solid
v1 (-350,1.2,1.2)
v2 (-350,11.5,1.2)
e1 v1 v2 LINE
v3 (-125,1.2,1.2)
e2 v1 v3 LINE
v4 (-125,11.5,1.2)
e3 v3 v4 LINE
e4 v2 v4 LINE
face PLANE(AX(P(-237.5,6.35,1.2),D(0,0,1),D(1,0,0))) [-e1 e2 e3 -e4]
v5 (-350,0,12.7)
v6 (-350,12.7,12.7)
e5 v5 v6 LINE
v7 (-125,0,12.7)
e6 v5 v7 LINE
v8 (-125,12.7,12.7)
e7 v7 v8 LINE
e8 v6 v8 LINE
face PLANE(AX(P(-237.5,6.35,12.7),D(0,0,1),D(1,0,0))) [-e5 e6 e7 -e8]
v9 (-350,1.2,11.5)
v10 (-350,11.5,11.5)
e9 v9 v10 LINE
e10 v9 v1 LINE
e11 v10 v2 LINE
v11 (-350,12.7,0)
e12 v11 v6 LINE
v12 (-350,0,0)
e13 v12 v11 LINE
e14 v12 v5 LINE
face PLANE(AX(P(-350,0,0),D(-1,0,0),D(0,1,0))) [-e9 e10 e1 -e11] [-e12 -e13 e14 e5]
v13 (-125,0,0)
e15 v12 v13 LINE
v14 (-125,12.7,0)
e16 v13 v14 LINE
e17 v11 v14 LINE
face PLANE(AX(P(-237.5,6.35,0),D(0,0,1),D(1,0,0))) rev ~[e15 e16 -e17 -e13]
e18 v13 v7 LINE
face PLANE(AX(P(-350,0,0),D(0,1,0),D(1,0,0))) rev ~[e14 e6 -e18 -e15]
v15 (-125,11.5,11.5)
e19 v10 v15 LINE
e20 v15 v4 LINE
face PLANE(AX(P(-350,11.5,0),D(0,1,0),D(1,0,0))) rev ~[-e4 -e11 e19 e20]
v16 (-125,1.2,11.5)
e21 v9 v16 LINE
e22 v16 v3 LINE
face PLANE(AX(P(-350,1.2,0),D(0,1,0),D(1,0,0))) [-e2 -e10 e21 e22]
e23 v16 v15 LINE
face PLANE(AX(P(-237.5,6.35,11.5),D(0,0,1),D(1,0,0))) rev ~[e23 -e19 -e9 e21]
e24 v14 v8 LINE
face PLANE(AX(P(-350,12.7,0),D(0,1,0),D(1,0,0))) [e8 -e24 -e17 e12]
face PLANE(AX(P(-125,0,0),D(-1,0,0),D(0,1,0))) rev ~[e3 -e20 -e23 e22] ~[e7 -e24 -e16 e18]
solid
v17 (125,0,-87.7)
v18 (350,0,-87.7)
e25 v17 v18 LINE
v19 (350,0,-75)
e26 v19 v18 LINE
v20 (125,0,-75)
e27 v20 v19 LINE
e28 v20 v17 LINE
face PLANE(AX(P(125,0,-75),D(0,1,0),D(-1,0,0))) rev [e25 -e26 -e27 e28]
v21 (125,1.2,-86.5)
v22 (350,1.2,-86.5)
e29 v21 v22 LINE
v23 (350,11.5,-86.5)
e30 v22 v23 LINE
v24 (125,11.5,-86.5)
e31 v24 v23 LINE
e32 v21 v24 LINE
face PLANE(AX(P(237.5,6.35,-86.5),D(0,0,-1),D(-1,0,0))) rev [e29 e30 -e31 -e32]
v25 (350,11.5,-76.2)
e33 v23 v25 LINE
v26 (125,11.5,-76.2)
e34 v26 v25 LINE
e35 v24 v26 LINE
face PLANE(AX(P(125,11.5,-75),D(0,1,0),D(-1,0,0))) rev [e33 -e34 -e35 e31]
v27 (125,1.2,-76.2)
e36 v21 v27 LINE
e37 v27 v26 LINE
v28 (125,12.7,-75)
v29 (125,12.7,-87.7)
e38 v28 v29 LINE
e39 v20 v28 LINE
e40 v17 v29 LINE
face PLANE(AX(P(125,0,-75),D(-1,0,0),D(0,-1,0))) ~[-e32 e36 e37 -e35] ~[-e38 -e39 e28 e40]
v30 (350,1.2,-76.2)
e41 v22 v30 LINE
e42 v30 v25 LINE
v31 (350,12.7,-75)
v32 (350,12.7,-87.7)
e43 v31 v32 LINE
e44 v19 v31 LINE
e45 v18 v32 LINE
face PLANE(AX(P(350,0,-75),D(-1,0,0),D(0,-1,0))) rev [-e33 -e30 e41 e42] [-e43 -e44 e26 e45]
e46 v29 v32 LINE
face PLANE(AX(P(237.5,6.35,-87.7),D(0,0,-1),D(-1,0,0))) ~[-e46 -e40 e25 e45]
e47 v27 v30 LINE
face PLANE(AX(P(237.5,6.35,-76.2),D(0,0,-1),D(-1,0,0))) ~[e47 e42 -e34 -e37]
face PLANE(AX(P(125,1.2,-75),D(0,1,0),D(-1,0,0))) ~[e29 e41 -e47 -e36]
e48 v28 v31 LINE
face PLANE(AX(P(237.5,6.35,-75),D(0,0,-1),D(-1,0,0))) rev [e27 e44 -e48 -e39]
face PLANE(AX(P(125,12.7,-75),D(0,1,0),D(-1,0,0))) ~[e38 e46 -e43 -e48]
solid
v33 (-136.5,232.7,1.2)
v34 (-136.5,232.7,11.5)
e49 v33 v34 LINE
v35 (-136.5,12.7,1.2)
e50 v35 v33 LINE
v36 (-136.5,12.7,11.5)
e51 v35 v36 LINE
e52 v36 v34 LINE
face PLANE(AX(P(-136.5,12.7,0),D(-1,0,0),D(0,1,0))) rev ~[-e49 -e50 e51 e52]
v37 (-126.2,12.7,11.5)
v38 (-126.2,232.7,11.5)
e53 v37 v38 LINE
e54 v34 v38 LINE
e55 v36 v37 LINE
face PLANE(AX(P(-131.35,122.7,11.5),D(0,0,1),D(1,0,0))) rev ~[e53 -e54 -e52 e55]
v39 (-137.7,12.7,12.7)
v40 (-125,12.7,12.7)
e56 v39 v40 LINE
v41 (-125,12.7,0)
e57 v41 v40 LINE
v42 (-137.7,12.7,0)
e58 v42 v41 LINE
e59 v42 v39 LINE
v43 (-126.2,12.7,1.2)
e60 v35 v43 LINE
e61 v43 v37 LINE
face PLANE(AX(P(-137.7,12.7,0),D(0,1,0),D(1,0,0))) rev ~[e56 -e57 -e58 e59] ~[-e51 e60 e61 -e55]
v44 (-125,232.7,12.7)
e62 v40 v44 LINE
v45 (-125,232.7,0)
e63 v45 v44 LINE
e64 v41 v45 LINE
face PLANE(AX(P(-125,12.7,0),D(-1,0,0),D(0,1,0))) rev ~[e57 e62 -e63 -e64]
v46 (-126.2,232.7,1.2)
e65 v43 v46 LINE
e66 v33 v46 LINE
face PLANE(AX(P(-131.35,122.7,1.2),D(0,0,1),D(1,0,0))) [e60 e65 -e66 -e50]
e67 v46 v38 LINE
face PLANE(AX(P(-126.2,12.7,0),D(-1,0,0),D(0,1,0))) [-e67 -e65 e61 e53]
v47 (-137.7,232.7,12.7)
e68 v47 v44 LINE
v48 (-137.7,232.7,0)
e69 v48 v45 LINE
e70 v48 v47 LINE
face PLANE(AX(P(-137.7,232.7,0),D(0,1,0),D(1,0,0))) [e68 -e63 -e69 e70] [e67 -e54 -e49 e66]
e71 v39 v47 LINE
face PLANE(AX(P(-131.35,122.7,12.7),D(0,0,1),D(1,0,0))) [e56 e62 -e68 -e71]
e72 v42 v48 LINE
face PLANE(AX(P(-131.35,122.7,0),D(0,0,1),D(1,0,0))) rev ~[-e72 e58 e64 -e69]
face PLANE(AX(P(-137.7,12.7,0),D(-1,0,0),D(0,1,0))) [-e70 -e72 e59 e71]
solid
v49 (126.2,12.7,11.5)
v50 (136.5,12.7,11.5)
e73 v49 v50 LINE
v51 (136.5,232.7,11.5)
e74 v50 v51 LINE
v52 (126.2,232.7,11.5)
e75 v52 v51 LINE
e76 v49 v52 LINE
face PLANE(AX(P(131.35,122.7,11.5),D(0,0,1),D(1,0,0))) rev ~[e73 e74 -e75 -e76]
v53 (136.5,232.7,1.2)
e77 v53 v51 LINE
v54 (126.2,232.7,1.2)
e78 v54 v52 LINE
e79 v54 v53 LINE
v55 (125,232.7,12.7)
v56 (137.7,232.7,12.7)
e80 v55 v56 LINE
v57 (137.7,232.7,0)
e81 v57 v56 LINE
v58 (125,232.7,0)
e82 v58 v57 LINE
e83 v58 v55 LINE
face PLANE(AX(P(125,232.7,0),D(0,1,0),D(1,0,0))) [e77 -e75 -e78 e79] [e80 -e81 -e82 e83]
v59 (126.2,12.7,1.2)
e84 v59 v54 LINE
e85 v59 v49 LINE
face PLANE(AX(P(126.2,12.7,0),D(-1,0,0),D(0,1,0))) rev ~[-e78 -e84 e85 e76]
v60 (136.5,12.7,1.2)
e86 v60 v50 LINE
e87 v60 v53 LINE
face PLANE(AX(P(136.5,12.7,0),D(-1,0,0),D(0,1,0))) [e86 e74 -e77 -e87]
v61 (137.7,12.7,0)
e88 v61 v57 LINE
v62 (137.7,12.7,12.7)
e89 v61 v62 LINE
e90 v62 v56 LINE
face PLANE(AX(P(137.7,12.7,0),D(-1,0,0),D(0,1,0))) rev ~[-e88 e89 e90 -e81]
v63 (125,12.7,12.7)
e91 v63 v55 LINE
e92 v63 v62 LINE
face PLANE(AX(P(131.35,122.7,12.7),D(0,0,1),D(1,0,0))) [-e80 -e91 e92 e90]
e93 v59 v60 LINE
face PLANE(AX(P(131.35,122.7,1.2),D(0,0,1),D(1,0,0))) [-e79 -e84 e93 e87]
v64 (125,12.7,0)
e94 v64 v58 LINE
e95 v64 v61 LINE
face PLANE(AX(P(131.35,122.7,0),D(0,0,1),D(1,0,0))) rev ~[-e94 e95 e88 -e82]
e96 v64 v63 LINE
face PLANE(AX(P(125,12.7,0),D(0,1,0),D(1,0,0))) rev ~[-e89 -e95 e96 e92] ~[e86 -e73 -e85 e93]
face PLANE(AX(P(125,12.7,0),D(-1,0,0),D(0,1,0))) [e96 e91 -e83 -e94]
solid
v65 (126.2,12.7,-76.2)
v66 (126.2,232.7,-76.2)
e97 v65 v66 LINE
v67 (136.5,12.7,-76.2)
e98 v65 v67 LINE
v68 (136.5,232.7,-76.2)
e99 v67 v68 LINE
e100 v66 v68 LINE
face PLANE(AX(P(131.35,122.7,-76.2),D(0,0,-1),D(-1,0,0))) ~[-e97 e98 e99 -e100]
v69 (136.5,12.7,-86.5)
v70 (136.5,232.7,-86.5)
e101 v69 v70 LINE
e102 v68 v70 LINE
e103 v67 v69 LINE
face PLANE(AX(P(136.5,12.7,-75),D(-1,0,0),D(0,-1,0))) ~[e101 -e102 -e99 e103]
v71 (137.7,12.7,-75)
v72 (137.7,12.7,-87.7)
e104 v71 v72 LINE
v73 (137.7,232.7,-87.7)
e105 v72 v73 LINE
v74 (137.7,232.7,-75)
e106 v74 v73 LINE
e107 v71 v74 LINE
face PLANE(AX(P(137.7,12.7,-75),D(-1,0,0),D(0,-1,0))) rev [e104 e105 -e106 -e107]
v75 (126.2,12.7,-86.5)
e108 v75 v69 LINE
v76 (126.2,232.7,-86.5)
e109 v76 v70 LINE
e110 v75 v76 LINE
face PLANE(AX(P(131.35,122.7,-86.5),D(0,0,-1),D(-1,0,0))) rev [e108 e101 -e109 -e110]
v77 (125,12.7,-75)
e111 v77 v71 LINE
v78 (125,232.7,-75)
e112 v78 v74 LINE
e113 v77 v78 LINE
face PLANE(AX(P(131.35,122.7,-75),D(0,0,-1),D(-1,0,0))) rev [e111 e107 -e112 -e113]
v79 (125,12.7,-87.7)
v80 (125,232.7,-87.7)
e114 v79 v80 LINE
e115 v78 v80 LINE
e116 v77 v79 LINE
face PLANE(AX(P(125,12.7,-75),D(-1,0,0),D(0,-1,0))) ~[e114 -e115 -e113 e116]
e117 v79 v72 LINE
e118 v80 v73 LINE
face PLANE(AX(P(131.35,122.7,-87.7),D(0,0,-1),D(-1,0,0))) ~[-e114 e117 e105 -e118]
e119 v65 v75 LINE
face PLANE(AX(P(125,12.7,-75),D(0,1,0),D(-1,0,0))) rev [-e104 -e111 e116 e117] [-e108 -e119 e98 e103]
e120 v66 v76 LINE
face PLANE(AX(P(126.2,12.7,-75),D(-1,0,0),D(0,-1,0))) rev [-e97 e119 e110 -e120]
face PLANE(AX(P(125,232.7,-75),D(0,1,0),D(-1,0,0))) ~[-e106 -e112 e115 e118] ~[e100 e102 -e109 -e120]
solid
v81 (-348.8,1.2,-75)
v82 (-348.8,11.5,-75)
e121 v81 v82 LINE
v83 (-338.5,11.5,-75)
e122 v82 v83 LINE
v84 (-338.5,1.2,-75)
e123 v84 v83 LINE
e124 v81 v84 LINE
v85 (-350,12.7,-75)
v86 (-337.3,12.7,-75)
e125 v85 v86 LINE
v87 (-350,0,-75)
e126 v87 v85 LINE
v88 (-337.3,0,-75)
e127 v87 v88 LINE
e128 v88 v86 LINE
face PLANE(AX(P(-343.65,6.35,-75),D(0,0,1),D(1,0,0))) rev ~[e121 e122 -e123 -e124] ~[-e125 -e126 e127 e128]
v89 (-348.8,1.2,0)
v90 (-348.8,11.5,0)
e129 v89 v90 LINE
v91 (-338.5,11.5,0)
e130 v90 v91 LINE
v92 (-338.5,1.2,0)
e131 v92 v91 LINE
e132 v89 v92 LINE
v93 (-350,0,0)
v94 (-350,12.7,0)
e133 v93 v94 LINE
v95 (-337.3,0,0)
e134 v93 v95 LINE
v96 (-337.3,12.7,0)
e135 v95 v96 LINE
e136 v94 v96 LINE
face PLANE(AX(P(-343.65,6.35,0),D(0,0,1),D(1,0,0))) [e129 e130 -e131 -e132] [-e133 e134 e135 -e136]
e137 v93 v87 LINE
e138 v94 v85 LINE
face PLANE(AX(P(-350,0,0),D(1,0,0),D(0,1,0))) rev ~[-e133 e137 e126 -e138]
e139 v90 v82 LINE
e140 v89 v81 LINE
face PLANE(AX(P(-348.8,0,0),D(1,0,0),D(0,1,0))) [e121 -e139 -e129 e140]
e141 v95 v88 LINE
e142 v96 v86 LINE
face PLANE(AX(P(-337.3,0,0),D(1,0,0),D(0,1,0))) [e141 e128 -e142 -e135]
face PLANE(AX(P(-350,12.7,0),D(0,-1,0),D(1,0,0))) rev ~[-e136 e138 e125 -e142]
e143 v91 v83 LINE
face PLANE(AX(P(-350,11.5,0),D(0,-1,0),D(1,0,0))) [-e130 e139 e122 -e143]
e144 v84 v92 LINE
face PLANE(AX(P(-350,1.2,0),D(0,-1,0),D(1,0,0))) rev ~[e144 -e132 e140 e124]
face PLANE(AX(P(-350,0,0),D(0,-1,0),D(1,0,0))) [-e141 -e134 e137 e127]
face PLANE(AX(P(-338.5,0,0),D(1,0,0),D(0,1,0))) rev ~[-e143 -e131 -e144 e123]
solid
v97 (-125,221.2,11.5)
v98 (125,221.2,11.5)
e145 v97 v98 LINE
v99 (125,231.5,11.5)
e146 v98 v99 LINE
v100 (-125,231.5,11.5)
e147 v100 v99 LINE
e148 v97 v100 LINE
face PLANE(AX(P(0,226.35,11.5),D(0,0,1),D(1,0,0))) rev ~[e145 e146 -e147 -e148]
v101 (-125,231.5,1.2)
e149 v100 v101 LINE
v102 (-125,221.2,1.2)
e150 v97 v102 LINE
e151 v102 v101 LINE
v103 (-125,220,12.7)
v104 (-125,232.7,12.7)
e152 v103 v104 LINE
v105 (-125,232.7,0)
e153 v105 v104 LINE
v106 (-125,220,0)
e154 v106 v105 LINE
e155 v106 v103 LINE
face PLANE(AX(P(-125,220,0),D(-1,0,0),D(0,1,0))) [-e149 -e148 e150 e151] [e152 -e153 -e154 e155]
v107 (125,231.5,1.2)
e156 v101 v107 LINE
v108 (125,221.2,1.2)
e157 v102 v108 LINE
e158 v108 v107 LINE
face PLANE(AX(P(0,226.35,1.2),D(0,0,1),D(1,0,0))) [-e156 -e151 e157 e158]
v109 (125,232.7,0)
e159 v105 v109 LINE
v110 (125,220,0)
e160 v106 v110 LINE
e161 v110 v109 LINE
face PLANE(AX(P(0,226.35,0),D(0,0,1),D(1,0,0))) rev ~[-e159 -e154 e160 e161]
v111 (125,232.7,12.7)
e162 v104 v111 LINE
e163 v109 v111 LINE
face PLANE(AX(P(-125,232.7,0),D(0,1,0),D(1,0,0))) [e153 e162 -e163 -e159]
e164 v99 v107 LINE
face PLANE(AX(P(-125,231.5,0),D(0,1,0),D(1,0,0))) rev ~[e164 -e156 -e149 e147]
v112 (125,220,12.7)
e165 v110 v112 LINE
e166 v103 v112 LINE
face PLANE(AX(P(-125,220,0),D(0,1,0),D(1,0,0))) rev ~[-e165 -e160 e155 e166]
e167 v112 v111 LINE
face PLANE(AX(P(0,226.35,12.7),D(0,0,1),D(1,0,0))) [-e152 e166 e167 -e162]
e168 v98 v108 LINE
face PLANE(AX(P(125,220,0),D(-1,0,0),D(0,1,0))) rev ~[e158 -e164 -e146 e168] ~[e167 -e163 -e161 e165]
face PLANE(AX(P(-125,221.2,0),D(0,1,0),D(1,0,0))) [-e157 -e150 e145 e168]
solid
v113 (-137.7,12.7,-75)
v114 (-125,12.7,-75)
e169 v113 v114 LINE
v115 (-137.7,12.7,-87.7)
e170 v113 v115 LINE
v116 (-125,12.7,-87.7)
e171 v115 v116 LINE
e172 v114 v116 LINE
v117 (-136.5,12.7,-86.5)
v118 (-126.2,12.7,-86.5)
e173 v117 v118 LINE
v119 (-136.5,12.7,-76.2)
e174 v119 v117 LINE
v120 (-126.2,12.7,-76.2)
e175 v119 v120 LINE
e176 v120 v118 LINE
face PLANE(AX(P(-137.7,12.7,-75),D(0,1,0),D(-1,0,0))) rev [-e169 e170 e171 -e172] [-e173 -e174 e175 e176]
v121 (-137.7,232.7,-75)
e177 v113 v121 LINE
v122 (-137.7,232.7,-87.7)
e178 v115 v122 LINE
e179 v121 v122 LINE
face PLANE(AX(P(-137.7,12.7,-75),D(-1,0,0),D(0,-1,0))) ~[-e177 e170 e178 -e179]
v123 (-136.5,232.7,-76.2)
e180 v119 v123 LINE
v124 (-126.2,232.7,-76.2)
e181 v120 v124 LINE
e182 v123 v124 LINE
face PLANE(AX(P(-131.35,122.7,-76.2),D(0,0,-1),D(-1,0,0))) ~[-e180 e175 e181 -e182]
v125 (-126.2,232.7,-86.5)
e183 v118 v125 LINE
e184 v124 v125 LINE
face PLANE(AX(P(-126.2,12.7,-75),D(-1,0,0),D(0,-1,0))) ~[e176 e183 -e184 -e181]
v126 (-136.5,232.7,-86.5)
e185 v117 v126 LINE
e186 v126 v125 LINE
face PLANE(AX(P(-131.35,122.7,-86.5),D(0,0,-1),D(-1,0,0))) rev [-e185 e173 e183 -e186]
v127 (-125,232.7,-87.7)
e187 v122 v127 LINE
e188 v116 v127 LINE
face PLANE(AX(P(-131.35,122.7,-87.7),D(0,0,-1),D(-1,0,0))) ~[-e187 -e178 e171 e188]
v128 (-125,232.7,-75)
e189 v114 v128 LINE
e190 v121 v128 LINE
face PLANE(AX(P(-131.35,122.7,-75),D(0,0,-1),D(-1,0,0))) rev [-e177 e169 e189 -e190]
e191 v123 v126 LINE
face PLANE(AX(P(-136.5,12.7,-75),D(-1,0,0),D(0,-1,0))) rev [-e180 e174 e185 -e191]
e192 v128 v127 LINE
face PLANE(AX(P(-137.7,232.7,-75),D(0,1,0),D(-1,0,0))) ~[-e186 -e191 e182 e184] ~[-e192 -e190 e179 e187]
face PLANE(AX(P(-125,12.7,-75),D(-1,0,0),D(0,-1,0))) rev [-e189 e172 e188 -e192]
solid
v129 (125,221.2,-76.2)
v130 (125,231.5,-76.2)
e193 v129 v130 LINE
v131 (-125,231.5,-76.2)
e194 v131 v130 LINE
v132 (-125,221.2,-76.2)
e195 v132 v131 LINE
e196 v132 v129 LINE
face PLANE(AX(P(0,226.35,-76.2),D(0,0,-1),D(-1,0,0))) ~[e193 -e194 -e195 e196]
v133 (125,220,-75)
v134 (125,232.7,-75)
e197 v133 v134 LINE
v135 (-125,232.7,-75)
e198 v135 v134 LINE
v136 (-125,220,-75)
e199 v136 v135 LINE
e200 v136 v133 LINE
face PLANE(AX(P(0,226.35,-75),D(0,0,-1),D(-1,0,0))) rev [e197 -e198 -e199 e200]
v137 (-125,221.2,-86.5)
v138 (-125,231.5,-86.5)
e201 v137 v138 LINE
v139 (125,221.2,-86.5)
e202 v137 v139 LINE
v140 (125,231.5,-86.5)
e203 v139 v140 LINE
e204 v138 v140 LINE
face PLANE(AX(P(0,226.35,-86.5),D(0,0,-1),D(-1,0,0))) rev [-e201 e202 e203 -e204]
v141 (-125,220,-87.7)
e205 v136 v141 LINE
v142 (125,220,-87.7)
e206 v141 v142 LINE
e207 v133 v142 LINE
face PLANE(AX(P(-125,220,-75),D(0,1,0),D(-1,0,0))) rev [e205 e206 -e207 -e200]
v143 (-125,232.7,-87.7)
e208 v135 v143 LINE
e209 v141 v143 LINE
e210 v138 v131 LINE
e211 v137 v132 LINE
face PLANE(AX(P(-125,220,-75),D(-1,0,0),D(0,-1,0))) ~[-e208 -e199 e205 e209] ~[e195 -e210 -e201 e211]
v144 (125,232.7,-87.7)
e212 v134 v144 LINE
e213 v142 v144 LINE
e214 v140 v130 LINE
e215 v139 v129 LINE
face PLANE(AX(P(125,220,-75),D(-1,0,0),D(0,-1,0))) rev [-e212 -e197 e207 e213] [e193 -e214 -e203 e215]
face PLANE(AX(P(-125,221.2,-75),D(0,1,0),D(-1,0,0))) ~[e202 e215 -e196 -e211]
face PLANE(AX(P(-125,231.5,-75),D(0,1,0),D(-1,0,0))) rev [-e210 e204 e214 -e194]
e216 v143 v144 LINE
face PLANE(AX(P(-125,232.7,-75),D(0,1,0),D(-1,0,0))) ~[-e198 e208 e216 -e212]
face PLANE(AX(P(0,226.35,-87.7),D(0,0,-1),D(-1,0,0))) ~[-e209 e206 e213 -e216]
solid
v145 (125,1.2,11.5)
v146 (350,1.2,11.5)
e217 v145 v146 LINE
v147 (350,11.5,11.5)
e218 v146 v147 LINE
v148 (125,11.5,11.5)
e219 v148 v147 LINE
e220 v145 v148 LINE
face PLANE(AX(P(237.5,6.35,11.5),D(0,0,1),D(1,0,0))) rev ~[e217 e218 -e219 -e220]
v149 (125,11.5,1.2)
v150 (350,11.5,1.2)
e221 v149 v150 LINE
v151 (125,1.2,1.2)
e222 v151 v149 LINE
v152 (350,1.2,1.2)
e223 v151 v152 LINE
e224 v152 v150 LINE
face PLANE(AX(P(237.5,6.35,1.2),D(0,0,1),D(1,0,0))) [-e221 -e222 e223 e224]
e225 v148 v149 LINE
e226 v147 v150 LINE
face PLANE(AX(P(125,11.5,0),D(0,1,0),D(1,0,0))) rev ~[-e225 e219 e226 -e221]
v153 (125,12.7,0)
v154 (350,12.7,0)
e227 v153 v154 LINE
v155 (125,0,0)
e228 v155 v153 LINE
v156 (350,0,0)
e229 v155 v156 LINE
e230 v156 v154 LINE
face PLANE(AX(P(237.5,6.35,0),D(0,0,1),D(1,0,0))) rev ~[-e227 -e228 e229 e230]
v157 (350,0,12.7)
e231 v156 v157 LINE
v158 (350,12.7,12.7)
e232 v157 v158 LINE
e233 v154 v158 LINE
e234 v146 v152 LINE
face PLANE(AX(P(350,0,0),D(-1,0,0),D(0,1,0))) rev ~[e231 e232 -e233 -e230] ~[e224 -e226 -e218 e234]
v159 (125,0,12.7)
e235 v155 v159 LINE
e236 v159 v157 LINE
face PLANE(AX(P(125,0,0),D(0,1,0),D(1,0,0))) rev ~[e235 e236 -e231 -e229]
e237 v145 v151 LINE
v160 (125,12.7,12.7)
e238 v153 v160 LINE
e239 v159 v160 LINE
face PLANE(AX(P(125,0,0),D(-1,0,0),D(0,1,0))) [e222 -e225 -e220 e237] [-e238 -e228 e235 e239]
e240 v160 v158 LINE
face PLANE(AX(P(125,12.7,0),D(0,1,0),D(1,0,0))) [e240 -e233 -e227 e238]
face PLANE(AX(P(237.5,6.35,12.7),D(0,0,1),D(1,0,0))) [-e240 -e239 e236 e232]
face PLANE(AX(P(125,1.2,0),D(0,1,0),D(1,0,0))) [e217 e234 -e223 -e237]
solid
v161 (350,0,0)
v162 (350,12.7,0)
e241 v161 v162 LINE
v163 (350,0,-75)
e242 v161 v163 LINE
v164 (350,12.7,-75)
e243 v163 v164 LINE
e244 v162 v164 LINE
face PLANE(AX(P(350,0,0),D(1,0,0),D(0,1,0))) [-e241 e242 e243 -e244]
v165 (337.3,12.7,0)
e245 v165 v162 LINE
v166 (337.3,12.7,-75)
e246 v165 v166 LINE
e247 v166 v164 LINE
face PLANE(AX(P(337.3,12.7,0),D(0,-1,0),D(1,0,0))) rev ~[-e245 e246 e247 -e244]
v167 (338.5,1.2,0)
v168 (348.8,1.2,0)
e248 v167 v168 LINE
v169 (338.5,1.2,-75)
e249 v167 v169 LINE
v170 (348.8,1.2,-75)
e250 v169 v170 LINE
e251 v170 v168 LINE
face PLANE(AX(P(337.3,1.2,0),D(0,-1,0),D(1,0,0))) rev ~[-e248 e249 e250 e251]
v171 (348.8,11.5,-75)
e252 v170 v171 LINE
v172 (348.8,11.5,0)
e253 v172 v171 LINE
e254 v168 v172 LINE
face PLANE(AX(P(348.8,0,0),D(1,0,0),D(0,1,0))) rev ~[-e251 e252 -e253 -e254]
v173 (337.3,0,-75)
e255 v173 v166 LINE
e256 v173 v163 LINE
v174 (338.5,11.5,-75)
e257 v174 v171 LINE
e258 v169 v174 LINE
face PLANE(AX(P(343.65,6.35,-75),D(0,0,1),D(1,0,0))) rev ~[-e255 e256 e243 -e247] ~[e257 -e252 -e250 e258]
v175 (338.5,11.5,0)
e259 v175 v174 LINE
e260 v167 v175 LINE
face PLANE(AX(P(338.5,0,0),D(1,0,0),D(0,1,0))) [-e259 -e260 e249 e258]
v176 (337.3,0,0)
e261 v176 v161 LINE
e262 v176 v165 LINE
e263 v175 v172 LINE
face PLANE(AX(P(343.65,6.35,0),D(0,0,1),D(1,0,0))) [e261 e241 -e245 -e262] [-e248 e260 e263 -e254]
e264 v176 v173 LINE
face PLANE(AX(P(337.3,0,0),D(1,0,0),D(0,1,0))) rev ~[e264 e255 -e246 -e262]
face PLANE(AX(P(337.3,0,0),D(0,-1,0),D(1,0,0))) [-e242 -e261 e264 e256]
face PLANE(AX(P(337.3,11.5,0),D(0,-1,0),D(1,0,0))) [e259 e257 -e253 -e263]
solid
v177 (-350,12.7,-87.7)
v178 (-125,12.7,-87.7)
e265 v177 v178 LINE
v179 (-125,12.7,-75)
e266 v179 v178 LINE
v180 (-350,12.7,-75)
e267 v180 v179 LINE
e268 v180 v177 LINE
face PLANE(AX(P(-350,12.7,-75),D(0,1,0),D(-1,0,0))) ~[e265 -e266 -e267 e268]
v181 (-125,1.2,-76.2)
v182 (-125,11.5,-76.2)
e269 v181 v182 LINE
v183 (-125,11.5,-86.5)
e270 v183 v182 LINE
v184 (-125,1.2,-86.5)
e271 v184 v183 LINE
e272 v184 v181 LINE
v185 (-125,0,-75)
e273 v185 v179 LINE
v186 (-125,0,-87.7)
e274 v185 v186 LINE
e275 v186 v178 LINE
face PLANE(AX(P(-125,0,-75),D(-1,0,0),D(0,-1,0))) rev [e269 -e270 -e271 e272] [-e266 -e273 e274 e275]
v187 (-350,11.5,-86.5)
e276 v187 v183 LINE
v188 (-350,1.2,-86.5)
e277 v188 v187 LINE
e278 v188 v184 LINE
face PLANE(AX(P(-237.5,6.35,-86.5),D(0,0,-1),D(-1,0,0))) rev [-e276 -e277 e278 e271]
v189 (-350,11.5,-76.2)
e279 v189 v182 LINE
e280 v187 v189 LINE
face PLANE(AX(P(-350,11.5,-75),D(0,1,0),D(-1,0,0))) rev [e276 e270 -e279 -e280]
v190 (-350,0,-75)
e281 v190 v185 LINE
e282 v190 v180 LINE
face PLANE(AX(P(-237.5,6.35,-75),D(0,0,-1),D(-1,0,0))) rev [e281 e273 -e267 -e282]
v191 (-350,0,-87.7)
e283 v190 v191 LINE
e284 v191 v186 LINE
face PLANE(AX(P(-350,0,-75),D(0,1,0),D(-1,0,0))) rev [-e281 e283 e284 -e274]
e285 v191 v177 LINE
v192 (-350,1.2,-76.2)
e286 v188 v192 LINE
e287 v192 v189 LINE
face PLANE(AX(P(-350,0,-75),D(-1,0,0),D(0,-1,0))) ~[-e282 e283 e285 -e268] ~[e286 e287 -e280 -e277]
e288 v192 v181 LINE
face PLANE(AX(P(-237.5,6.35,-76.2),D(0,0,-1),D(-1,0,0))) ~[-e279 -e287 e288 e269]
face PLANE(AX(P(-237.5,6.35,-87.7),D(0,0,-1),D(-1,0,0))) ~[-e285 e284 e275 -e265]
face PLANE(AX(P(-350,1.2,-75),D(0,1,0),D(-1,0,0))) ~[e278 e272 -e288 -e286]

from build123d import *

# Parameters (mm, degrees)
SKETCH3_W             = 225
SKETCH3_H             = 12.7
BOSS_EXTRUDE1_DEPTH   = 12.7
SKETCH3_W_2           = 250
BOSS_EXTRUDE1_2_DEPTH = 12.7
BOSS_EXTRUDE1_3_DEPTH = 12.7
SHELL1_T              = -1.2
SHELL2_T              = -1.2
SHELL3_T              = -1.2
SKETCH3_3_W           = 12.7
SKETCH3_3_H           = 220
BOSS_EXTRUDE2_DEPTH   = 12.7
BOSS_EXTRUDE2_2_DEPTH = 12.7
SHELL4_T              = -1.2
SHELL5_T              = -1.2
SKETCH3_4_W           = 12.7
SKETCH3_4_H           = 12.7
BOSS_EXTRUDE3_DEPTH   = 75
BOSS_EXTRUDE3_2_DEPTH = 75
SHELL6_T              = -1.2
SHELL7_T              = -1.2


with BuildPart() as part:
    # Sketch3 → Boss-Extrude1 (new body)
    with BuildSketch(Plane.XY):
        with Locations((-237.5, 6.35)):
            Rectangle(SKETCH3_W, SKETCH3_H)
    extrude(amount=BOSS_EXTRUDE1_DEPTH)

    # Shell1
    shell1_openings = [part.faces().sort_by_distance(p)[0] for p in [
        (-125, 6.35, 6.35),
        (-350, 6.35, 6.35),
    ]]
    offset(amount=SHELL1_T, openings=shell1_openings, kind=Kind.INTERSECTION)


with BuildPart() as body_2:
    # Sketch3 → Boss-Extrude1 2 (new body)
    with BuildSketch(Plane.XY):
        with Locations((0, 226.35)):
            Rectangle(SKETCH3_W_2, SKETCH3_H)
    extrude(amount=BOSS_EXTRUDE1_2_DEPTH)

    # Shell2
    shell2_openings = [body_2.faces().sort_by_distance(p)[0] for p in [
        (-125, 226.35, 6.35),
        (125, 226.35, 6.35),
    ]]
    offset(amount=SHELL2_T, openings=shell2_openings, kind=Kind.INTERSECTION)


with BuildPart() as body_3:
    # Sketch3 → Boss-Extrude1 3 (new body)
    with BuildSketch(Plane.XY):
        with Locations((237.5, 6.35)):
            Rectangle(SKETCH3_W, SKETCH3_H)
    extrude(amount=BOSS_EXTRUDE1_3_DEPTH)

    # Shell3
    shell3_openings = [body_3.faces().sort_by_distance(p)[0] for p in [
        (125, 6.35, 6.35),
        (350, 6.35, 6.35),
    ]]
    offset(amount=SHELL3_T, openings=shell3_openings, kind=Kind.INTERSECTION)


with BuildPart() as body_4:
    # Sketch3<3> → Boss-Extrude2 (new body)
    with BuildSketch(Plane.XY):
        with Locations((-131.35, 122.7)):
            Rectangle(SKETCH3_3_W, SKETCH3_3_H)
    extrude(amount=BOSS_EXTRUDE2_DEPTH)

    # Shell4
    shell4_openings = [body_4.faces().sort_by_distance(p)[0] for p in [
        (-131.35, 232.7, 6.35),
        (-131.35, 12.7, 6.35),
    ]]
    offset(amount=SHELL4_T, openings=shell4_openings, kind=Kind.INTERSECTION)


with BuildPart() as body_5:
    # Sketch3<3> → Boss-Extrude2 2 (new body)
    with BuildSketch(Plane.XY):
        with Locations((131.35, 122.7)):
            Rectangle(SKETCH3_3_W, SKETCH3_3_H)
    extrude(amount=BOSS_EXTRUDE2_2_DEPTH)

    # Shell5
    shell5_openings = [body_5.faces().sort_by_distance(p)[0] for p in [
        (131.35, 232.7, 6.35),
        (131.35, 12.7, 6.35),
    ]]
    offset(amount=SHELL5_T, openings=shell5_openings, kind=Kind.INTERSECTION)


with BuildPart() as body_6:
    # Sketch3<4> → Boss-Extrude3 (new body)
    with BuildSketch(Plane.XY):
        with Locations((-343.65, 6.35)):
            Rectangle(SKETCH3_4_W, SKETCH3_4_H)
    extrude(amount=-BOSS_EXTRUDE3_DEPTH)

    # Shell7
    shell7_openings = [body_6.faces().sort_by_distance(p)[0] for p in [
        (-343.65, 6.35, -75),
        (-343.65, 6.35, 0),
    ]]
    offset(amount=SHELL7_T, openings=shell7_openings, kind=Kind.INTERSECTION)


with BuildPart() as body_7:
    # Sketch3<4> → Boss-Extrude3 2 (new body)
    with BuildSketch(Plane.XY):
        with Locations((343.65, 6.35)):
            Rectangle(SKETCH3_4_W, SKETCH3_4_H)
    extrude(amount=-BOSS_EXTRUDE3_2_DEPTH)

    # Shell6
    shell6_openings = [body_7.faces().sort_by_distance(p)[0] for p in [
        (343.65, 6.35, -75),
        (343.65, 6.35, 0),
    ]]
    offset(amount=SHELL6_T, openings=shell6_openings, kind=Kind.INTERSECTION)


with BuildPart() as body_8:
    # Mirror1: mirrored copy
    add(part.part.mirror(Plane.XY.offset(-37.5)))


with BuildPart() as body_9:
    # Mirror1 2: mirrored copy
    add(body_2.part.mirror(Plane.XY.offset(-37.5)))


with BuildPart() as body_10:
    # Mirror1 3: mirrored copy
    add(body_3.part.mirror(Plane.XY.offset(-37.5)))


with BuildPart() as body_11:
    # Mirror1 4: mirrored copy
    add(body_4.part.mirror(Plane.XY.offset(-37.5)))


with BuildPart() as body_12:
    # Mirror1 5: mirrored copy
    add(body_5.part.mirror(Plane.XY.offset(-37.5)))


solid = Compound([part.part, body_2.part, body_3.part, body_4.part, body_5.part, body_6.part, body_7.part, body_8.part, body_9.part, body_10.part, body_11.part, body_12.part])
